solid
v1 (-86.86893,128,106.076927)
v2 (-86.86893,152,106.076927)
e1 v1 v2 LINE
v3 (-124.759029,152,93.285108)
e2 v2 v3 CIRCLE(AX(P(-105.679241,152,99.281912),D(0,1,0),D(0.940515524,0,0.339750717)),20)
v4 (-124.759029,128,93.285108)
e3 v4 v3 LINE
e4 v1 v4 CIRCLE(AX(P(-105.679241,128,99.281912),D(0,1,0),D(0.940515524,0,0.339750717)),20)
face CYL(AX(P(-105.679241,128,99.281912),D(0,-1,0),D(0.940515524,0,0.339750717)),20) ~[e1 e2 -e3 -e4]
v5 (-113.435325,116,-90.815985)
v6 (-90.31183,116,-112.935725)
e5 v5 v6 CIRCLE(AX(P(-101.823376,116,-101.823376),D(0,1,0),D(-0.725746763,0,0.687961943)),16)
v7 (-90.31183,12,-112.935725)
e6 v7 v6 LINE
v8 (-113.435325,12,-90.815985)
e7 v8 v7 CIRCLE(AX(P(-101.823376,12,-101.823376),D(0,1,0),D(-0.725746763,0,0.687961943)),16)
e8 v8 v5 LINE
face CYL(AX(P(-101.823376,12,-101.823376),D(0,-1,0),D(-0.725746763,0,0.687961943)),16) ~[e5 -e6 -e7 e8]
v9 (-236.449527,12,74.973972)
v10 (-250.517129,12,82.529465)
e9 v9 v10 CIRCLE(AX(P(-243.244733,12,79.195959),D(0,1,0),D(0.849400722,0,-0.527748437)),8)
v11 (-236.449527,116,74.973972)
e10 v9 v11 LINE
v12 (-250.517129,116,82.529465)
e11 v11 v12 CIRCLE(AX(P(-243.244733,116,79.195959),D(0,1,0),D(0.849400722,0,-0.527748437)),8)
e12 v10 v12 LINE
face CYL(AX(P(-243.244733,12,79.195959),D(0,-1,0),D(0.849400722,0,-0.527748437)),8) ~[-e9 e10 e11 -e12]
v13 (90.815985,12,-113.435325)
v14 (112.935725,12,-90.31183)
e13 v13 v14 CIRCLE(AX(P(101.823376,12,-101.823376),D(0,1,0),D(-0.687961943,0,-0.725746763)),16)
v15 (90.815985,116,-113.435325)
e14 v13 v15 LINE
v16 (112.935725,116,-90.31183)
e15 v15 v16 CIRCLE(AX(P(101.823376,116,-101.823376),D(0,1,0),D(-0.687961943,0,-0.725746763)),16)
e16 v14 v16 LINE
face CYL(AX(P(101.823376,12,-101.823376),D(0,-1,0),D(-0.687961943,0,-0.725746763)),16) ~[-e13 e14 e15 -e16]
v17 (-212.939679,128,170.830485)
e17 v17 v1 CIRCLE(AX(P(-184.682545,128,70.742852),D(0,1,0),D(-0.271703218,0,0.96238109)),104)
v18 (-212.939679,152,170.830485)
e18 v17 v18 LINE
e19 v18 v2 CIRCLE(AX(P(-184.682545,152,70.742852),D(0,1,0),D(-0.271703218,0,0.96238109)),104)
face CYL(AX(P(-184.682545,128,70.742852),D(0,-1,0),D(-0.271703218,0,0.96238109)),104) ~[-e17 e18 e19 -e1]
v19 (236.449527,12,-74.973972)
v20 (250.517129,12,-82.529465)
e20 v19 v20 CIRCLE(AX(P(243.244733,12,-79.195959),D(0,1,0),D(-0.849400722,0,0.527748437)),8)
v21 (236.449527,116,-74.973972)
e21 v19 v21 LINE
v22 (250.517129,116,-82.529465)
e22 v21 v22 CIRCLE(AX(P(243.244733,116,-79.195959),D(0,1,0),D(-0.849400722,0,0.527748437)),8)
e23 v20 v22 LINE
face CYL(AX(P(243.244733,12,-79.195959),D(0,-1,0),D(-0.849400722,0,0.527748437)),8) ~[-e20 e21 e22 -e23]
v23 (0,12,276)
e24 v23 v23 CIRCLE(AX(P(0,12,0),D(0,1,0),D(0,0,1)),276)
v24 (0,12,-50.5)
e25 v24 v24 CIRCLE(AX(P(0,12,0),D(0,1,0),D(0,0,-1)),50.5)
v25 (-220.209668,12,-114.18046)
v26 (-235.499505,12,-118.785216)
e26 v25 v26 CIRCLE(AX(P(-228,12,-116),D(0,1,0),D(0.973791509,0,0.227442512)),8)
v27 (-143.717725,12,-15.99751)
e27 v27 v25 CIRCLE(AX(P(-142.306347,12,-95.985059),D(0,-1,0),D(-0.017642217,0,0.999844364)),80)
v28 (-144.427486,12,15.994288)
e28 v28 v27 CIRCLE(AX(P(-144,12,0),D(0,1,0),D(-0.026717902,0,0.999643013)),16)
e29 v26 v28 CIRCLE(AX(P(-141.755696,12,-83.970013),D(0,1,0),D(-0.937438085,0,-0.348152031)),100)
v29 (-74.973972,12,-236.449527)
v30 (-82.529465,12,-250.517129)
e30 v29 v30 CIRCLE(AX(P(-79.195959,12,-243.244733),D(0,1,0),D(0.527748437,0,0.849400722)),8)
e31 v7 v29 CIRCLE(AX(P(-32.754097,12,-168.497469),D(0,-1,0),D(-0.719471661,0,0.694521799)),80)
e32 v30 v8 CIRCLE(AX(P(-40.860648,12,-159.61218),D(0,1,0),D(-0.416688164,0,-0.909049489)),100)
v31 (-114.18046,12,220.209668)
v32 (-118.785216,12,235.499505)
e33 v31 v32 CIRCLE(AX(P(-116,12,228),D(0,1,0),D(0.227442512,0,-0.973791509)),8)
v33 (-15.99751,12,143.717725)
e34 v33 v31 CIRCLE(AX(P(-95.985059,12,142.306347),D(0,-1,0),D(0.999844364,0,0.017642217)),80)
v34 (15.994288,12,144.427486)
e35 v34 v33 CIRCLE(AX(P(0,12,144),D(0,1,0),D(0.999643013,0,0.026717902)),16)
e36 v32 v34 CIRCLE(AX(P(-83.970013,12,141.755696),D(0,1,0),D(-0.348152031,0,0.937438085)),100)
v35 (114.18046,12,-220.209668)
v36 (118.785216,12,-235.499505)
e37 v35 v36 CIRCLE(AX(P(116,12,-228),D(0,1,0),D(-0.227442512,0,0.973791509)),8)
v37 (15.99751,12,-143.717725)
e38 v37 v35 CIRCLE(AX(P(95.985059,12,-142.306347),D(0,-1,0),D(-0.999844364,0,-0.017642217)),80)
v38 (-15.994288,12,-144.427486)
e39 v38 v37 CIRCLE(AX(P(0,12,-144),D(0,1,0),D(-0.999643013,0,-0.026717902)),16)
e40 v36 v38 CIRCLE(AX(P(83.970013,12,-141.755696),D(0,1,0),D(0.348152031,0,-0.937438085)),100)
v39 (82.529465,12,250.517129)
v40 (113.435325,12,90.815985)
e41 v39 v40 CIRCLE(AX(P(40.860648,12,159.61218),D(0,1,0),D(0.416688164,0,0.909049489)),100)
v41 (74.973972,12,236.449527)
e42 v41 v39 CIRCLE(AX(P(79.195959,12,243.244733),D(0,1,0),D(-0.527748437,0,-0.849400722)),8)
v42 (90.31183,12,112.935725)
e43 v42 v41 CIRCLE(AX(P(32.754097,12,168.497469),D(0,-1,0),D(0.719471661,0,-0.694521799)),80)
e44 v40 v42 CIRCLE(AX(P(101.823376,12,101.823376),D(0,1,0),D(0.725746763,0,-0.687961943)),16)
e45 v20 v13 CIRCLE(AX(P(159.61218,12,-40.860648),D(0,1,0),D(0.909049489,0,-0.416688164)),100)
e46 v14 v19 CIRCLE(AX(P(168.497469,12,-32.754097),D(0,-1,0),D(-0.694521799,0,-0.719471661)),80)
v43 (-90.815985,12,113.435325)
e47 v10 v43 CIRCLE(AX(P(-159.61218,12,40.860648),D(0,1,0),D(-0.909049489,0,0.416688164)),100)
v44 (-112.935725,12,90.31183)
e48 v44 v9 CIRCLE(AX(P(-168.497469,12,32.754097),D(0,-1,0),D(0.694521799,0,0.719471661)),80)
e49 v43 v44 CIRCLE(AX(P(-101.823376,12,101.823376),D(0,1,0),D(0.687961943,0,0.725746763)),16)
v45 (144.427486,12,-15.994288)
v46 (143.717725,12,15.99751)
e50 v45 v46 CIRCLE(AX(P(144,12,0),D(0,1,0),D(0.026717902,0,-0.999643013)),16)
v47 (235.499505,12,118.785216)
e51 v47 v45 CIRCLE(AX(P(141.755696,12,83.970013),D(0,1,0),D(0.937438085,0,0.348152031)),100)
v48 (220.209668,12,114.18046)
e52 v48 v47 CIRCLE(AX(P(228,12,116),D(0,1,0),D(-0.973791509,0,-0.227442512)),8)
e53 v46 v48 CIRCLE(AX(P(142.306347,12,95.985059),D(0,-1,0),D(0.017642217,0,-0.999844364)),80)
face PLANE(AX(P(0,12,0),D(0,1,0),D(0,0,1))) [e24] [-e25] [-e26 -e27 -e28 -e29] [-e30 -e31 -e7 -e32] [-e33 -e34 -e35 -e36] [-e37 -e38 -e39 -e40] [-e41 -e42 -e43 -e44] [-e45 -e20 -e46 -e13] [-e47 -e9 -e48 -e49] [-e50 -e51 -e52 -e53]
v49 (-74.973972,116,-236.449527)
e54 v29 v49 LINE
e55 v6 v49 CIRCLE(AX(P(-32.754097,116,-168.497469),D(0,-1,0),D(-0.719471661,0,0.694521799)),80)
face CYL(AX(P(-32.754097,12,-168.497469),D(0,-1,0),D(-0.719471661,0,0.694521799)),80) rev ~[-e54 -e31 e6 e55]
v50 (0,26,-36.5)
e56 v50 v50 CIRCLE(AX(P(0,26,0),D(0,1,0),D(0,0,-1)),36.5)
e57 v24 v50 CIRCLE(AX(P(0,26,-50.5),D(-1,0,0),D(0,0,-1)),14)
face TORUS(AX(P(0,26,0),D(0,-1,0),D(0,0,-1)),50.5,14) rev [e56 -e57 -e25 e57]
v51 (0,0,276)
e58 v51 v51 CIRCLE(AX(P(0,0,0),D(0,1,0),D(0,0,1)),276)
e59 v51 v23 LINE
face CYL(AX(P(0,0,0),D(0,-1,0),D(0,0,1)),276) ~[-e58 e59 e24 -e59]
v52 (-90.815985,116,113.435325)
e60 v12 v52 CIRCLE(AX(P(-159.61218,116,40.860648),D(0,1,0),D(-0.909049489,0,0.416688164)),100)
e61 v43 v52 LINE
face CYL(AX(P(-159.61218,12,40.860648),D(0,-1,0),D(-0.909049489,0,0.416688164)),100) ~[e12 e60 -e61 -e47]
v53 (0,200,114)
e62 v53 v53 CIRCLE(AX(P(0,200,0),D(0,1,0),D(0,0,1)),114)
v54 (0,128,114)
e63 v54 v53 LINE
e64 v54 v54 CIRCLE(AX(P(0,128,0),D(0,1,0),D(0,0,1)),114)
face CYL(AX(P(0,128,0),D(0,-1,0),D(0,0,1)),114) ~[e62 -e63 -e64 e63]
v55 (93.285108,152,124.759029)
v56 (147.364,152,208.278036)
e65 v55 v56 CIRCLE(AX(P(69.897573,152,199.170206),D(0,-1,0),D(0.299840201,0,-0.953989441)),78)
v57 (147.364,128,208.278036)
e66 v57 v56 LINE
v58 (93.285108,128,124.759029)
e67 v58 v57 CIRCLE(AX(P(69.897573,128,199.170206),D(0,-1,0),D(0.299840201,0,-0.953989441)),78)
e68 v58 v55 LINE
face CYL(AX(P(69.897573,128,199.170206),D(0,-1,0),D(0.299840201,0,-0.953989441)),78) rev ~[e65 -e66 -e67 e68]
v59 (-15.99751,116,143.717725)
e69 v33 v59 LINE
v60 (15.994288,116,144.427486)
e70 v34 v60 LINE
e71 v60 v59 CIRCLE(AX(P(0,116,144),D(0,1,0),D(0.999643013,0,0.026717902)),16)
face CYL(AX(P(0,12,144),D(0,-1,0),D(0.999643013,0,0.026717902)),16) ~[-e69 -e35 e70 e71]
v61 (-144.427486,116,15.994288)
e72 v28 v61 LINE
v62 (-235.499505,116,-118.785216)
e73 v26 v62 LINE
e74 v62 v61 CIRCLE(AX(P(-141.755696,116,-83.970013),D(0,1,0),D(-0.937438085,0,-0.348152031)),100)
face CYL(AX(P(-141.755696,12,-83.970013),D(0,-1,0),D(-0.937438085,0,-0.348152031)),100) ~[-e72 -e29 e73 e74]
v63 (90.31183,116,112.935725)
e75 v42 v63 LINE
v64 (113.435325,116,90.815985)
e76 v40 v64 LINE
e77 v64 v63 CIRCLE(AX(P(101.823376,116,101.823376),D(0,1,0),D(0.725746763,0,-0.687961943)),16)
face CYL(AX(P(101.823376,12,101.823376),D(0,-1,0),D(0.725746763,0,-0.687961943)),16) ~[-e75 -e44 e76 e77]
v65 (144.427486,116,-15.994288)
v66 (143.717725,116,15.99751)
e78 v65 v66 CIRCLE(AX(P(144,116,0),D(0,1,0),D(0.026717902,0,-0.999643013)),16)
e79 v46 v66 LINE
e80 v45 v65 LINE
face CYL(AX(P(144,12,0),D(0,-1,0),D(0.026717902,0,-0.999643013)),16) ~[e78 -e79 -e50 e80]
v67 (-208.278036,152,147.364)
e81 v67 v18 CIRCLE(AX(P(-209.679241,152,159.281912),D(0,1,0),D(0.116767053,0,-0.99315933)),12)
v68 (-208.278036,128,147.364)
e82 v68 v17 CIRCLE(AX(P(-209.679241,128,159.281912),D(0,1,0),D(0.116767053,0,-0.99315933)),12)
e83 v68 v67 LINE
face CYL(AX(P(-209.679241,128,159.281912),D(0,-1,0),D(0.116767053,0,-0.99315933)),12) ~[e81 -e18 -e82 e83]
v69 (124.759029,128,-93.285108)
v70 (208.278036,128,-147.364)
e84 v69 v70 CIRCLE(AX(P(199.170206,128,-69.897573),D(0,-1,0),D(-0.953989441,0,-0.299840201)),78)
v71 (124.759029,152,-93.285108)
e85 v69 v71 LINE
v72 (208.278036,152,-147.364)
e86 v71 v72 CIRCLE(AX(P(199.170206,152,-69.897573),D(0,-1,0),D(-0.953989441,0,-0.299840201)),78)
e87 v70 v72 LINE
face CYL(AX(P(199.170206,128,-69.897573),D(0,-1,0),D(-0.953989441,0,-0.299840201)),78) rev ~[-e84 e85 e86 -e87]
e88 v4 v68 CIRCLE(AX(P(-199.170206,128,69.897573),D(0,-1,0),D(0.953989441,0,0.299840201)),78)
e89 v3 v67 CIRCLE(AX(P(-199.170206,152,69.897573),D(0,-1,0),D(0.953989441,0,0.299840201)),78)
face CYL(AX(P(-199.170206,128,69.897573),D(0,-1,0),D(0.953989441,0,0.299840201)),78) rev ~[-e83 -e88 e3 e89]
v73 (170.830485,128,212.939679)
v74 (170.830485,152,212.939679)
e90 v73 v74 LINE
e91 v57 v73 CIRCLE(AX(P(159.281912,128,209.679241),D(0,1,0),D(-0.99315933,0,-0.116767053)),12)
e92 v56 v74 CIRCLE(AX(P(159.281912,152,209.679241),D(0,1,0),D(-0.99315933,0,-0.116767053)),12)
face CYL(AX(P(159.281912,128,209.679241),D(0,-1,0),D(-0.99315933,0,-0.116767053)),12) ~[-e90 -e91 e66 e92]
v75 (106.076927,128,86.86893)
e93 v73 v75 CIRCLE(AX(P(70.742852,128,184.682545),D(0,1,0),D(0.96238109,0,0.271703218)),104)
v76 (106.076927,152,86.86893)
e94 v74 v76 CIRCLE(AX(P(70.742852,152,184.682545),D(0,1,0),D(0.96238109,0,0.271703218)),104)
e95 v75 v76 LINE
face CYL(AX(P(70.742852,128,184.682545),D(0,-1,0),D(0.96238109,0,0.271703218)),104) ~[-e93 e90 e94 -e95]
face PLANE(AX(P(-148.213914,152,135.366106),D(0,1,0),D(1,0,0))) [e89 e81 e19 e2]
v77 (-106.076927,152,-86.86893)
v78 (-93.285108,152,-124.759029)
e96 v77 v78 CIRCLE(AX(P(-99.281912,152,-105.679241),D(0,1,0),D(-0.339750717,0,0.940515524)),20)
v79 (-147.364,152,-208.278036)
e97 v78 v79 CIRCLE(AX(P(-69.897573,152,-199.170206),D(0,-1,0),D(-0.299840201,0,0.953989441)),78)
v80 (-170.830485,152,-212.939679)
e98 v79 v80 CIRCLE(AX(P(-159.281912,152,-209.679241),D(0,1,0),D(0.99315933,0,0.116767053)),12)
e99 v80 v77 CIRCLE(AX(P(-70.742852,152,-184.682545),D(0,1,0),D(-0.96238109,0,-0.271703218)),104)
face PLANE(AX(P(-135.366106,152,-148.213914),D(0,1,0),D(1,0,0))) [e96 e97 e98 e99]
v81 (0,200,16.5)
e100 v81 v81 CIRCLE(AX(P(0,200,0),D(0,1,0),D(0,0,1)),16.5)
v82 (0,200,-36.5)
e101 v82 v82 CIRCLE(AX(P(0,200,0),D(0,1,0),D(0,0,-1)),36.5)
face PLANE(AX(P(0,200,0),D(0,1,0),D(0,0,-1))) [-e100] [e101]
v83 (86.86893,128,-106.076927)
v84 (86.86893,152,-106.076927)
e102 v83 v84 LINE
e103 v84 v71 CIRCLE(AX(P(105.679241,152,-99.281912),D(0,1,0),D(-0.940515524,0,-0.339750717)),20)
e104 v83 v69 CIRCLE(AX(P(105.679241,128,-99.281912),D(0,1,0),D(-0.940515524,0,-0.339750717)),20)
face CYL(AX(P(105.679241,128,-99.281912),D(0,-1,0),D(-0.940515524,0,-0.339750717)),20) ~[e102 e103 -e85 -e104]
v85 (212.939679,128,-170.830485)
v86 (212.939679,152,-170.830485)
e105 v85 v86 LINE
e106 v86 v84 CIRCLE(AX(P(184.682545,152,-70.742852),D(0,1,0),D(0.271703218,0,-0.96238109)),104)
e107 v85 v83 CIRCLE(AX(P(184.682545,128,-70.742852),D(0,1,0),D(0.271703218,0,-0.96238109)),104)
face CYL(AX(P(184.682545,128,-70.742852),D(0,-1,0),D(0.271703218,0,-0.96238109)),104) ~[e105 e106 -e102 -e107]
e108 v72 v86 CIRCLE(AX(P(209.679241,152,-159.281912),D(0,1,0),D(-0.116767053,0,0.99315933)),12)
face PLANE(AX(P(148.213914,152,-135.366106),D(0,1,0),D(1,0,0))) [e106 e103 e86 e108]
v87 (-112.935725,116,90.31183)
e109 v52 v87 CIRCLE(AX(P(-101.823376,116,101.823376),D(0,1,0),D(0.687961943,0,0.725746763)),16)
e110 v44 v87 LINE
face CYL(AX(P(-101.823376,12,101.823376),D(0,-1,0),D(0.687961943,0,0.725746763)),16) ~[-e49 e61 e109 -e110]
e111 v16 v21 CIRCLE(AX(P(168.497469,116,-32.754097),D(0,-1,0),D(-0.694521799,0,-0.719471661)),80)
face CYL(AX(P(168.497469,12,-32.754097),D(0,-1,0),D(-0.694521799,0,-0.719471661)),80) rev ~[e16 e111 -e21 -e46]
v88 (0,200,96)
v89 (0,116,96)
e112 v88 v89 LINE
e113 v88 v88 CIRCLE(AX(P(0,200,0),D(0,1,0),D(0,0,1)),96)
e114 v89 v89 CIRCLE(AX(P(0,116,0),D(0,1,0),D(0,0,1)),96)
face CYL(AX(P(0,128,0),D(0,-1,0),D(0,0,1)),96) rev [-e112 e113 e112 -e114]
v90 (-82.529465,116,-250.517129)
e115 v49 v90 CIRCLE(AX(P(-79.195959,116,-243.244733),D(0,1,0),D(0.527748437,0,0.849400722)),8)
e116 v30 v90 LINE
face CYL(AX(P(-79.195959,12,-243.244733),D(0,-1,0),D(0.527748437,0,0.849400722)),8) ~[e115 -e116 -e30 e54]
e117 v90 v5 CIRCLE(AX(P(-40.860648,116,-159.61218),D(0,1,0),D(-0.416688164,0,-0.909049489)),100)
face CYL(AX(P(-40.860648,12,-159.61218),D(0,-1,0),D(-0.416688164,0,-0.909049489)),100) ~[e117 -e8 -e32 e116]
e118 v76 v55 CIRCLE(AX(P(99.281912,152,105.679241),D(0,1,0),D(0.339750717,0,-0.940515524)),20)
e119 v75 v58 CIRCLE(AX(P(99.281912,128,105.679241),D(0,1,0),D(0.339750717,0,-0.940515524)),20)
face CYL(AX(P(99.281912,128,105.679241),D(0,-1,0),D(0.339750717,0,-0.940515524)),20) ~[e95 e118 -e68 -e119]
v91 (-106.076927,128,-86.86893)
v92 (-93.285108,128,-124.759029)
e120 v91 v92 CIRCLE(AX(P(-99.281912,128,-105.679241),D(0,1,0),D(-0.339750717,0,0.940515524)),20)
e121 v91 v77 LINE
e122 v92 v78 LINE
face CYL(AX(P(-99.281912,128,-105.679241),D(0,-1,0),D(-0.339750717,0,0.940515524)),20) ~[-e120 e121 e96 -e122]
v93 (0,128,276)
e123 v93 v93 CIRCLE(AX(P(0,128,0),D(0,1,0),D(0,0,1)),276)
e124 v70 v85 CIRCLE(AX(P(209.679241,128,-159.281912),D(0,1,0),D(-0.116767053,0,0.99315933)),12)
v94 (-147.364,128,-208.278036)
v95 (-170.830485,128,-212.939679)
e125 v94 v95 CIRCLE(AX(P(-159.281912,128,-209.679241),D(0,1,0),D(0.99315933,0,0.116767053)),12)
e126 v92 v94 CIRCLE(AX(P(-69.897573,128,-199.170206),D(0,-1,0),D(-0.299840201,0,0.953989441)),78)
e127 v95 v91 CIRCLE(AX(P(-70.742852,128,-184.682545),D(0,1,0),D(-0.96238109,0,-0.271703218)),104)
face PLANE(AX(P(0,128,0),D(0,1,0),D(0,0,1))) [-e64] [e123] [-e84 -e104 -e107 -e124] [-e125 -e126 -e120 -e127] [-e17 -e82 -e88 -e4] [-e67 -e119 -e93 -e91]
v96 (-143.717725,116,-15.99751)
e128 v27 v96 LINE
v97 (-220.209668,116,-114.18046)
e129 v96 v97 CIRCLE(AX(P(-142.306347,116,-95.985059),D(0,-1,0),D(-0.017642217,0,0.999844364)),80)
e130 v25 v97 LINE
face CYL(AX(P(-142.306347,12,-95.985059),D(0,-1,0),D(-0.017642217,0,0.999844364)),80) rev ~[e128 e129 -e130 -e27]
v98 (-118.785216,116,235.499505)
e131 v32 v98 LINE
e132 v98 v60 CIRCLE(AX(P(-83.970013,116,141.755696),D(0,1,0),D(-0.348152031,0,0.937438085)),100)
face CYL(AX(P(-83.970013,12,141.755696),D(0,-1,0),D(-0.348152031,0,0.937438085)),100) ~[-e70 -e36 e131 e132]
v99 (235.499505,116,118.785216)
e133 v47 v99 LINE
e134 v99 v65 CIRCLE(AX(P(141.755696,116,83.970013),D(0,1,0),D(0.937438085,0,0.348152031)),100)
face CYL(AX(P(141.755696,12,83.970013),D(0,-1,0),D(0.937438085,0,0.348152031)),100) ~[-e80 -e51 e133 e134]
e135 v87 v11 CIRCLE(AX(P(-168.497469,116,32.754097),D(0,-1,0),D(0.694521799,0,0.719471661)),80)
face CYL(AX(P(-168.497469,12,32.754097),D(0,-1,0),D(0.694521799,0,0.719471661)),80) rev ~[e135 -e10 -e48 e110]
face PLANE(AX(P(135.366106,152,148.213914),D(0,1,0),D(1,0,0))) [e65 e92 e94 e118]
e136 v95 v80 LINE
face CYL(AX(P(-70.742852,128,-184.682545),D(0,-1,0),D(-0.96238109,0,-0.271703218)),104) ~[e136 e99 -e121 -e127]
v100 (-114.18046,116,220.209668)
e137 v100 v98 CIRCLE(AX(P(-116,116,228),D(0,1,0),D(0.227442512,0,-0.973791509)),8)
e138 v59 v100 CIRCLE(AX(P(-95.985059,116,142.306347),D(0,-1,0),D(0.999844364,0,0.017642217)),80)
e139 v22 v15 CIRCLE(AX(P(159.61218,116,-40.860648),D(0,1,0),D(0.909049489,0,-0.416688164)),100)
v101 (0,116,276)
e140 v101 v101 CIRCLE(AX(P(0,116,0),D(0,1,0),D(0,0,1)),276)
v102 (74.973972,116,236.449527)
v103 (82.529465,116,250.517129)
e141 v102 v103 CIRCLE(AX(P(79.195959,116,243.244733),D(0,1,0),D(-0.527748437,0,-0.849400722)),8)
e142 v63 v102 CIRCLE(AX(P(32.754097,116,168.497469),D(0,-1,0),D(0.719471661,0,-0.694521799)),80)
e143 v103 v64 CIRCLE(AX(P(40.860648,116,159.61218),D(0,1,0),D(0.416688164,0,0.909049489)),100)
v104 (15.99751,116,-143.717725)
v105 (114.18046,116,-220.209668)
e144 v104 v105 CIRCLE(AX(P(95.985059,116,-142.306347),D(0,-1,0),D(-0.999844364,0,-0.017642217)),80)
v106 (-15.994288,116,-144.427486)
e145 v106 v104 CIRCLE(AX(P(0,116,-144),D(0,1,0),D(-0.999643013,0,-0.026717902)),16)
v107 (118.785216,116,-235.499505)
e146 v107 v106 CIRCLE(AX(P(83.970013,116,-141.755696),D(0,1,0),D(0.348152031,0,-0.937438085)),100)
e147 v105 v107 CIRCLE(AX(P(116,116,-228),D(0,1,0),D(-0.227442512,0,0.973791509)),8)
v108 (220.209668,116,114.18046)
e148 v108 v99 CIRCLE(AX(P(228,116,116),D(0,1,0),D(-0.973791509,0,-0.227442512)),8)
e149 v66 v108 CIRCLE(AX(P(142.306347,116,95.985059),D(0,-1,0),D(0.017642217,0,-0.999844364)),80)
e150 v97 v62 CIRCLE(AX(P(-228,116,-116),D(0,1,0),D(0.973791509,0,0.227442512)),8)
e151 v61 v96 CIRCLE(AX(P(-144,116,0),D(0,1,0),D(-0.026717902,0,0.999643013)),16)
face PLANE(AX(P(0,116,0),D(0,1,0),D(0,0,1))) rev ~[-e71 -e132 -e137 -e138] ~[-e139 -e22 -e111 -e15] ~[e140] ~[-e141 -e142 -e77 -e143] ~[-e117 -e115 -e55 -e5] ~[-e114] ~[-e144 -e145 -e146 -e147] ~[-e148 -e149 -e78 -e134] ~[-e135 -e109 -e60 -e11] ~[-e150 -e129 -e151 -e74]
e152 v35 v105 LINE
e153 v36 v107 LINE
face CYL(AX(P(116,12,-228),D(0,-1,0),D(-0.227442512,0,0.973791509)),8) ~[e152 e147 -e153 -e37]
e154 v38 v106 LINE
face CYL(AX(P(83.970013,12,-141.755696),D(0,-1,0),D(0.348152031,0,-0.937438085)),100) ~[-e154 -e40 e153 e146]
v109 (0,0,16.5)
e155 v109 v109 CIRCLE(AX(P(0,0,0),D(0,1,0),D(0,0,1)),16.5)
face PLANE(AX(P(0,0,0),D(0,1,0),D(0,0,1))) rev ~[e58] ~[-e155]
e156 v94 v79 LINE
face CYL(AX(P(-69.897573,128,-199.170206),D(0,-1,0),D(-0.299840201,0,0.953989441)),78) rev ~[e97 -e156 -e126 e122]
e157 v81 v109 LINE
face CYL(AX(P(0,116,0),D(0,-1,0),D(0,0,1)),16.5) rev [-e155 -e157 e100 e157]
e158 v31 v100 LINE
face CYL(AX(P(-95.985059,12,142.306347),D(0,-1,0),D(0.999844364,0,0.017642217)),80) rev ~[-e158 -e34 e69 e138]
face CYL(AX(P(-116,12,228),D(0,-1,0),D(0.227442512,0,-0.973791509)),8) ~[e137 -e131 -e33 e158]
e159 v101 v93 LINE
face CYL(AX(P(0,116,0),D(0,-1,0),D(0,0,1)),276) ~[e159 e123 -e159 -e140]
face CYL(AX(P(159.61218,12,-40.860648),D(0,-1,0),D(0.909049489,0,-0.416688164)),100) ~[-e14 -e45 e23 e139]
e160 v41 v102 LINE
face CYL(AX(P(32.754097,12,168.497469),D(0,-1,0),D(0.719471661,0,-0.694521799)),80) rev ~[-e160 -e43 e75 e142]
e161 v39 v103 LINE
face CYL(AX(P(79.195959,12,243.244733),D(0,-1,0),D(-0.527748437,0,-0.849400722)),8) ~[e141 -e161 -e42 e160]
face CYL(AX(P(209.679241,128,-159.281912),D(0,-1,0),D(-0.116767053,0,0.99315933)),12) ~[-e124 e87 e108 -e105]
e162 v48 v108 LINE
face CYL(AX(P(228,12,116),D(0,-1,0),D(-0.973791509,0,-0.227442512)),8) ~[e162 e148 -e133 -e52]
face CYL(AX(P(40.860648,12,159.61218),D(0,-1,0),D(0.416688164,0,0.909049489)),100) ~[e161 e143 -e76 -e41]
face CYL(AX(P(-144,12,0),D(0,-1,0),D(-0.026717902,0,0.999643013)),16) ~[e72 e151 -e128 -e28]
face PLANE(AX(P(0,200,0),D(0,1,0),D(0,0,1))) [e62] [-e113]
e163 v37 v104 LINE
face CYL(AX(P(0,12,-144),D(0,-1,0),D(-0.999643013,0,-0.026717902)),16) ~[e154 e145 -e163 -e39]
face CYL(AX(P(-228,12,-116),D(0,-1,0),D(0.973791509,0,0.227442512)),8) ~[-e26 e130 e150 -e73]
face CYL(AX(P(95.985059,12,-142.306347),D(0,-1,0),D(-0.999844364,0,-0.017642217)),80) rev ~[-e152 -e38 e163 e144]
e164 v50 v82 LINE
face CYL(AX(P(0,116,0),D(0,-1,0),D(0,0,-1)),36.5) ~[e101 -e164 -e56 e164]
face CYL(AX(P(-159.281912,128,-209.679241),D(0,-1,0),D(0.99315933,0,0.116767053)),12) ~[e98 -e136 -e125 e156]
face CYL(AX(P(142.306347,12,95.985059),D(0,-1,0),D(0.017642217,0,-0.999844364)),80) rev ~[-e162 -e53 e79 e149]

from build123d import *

# Parameters (mm, degrees)
SKETCH1_R           = 276
SKETCH1_R_2         = 16.5
BOSS_EXTRUDE1_DEPTH = 12
SKETCH2_R           = 36.5
SKETCH2_R_2         = 16.5
BOSS_EXTRUDE2_DEPTH = 104
SKETCH4_R           = 276
SKETCH4_R_2         = 96
BOSS_EXTRUDE6_DEPTH = 12
BOSS_EXTRUDE7_DEPTH = 24
SKETCH6_R           = 114
SKETCH6_R_2         = 96
BOSS_EXTRUDE8_DEPTH = 72
FILLET1_R           = 14
SKETCH7_R           = 36.5
SKETCH7_R_2         = 16.5
BOSS_EXTRUDE9_DEPTH = 84


with BuildPart() as part:
    # Sketch1 → Boss-Extrude1 (new body)
    with BuildSketch(Plane(origin=(0, 0, 0), x_dir=(1, 0, 0), z_dir=(0, 1, 0))):
        with Locations(Location((0, 0, 0), (0, 0, 270))):
            Circle(SKETCH1_R)
        with Locations(Location((0, 0, 0), (0, 0, 270))):
            Circle(SKETCH1_R_2, mode=Mode.SUBTRACT)
    extrude(amount=BOSS_EXTRUDE1_DEPTH)

    # Sketch2 → Boss-Extrude2 (add)
    # profile 1 of 9: a face of its own
    with BuildSketch(Plane(origin=(0, 12, 0), x_dir=(1, 0, 0), z_dir=(0, 1, 0))):
        with Locations(Location((0, 0, 0), (0, 0, 90))):
            Circle(SKETCH2_R)
        with Locations(Location((0, 0, 0), (0, 0, 270))):
            Circle(SKETCH2_R_2, mode=Mode.SUBTRACT)
    # profile 2 of 9: a face of its own
    with BuildSketch(Plane(origin=(0, 12, 0), x_dir=(1, 0, 0), z_dir=(0, 1, 0))):
        with BuildLine():
            ThreePointArc((15.99428821, -144.42748644), (0.354884611, -128.003936206), (-15.997509824, -143.717724529))
            ThreePointArc((-15.997509824, -143.717724529), (-46.818792615, -205.414811389), (-114.180459904, -220.209667925))
            ThreePointArc((-114.180459904, -220.209667925), (-123.660150756, -225.693034374), (-118.785216252, -235.499504679))
            ThreePointArc((-118.785216252, -235.499504679), (-27.982252168, -224.613228291), (15.99428821, -144.42748644))
        make_face()
    # profile 3 of 9: a face of its own
    with BuildSketch(Plane(origin=(0, 12, 0), x_dir=(1, 0, 0), z_dir=(0, 1, 0))):
        with BuildLine():
            ThreePointArc((-90.815985398, -113.435324705), (-90.261509995, -90.763392625), (-112.93572527, -90.311829913))
            ThreePointArc((-112.93572527, -90.311829913), (-178.356091834, -112.144320345), (-236.44952695, -74.973971996))
            ThreePointArc((-236.44952695, -74.973971996), (-247.030006234, -72.14814391), (-250.517128641, -82.529464808))
            ThreePointArc((-250.517128641, -82.529464808), (-178.61197713, -139.039096608), (-90.815985398, -113.435324705))
        make_face()
    # profile 4 of 9: a face of its own
    with BuildSketch(Plane(origin=(0, 12, 0), x_dir=(1, 0, 0), z_dir=(0, 1, 0))):
        with BuildLine():
            ThreePointArc((-144.42748644, -15.99428821), (-128.003936206, -0.354884611), (-143.717724529, 15.997509824))
            ThreePointArc((-143.717724529, 15.997509824), (-205.414811389, 46.818792615), (-220.209667925, 114.180459904))
            ThreePointArc((-220.209667925, 114.180459904), (-225.693034374, 123.660150756), (-235.499504679, 118.785216252))
            ThreePointArc((-235.499504679, 118.785216252), (-224.613228291, 27.982252168), (-144.42748644, -15.99428821))
        make_face()
    # profile 5 of 9: a face of its own
    with BuildSketch(Plane(origin=(0, 12, 0), x_dir=(1, 0, 0), z_dir=(0, 1, 0))):
        with BuildLine():
            ThreePointArc((-113.435324705, 90.815985398), (-90.763392625, 90.261509995), (-90.311829913, 112.93572527))
            ThreePointArc((-90.311829913, 112.93572527), (-112.144320345, 178.356091834), (-74.973971996, 236.44952695))
            ThreePointArc((-74.973971996, 236.44952695), (-72.14814391, 247.030006234), (-82.529464808, 250.517128641))
            ThreePointArc((-82.529464808, 250.517128641), (-139.039096608, 178.61197713), (-113.435324705, 90.815985398))
        make_face()
    # profile 6 of 9: a face of its own
    with BuildSketch(Plane(origin=(0, 12, 0), x_dir=(1, 0, 0), z_dir=(0, 1, 0))):
        with BuildLine():
            ThreePointArc((-15.99428821, 144.42748644), (-0.354884611, 128.003936206), (15.997509824, 143.717724529))
            ThreePointArc((15.997509824, 143.717724529), (46.818792615, 205.414811389), (114.180459904, 220.209667925))
            ThreePointArc((114.180459904, 220.209667925), (123.660150756, 225.693034374), (118.785216252, 235.499504679))
            ThreePointArc((118.785216252, 235.499504679), (27.982252168, 224.613228291), (-15.99428821, 144.42748644))
        make_face()
    # profile 7 of 9: a face of its own
    with BuildSketch(Plane(origin=(0, 12, 0), x_dir=(1, 0, 0), z_dir=(0, 1, 0))):
        with BuildLine():
            ThreePointArc((90.815985398, 113.435324705), (90.261509995, 90.763392625), (112.93572527, 90.311829913))
            ThreePointArc((112.93572527, 90.311829913), (178.356091834, 112.144320345), (236.44952695, 74.973971996))
            ThreePointArc((236.44952695, 74.973971996), (247.030006234, 72.14814391), (250.517128641, 82.529464808))
            ThreePointArc((250.517128641, 82.529464808), (178.61197713, 139.039096608), (90.815985398, 113.435324705))
        make_face()
    # profile 8 of 9: a face of its own
    with BuildSketch(Plane(origin=(0, 12, 0), x_dir=(1, 0, 0), z_dir=(0, 1, 0))):
        with BuildLine():
            ThreePointArc((144.42748644, 15.99428821), (128.003936206, 0.354884611), (143.717724529, -15.997509824))
            ThreePointArc((143.717724529, -15.997509824), (205.414811389, -46.818792615), (220.209667925, -114.180459904))
            ThreePointArc((220.209667925, -114.180459904), (225.693034374, -123.660150756), (235.499504679, -118.785216252))
            ThreePointArc((235.499504679, -118.785216252), (224.613228291, -27.982252168), (144.42748644, 15.99428821))
        make_face()
    # profile 9 of 9: a face of its own
    with BuildSketch(Plane(origin=(0, 12, 0), x_dir=(1, 0, 0), z_dir=(0, 1, 0))):
        with BuildLine():
            ThreePointArc((113.435324705, -90.815985398), (90.763392625, -90.261509995), (90.311829913, -112.93572527))
            ThreePointArc((90.311829913, -112.93572527), (112.144320345, -178.356091834), (74.973971996, -236.44952695))
            ThreePointArc((74.973971996, -236.44952695), (72.14814391, -247.030006234), (82.529464808, -250.517128641))
            ThreePointArc((82.529464808, -250.517128641), (139.039096608, -178.61197713), (113.435324705, -90.815985398))
        make_face()
    extrude(amount=BOSS_EXTRUDE2_DEPTH)

    # Sketch4 → Boss-Extrude6 (add)
    with BuildSketch(Plane(origin=(0, 116, 0), x_dir=(1, 0, 0), z_dir=(0, 1, 0))):
        with Locations(Location((0, 0, 0), (0, 0, 270))):
            Circle(SKETCH4_R)
        with Locations(Location((0, 0, 0), (0, 0, 270))):
            Circle(SKETCH4_R_2, mode=Mode.SUBTRACT)
    extrude(amount=BOSS_EXTRUDE6_DEPTH)

    # Sketch5 → Boss-Extrude7 (add)
    with BuildSketch(Plane(origin=(0, 128, 0), x_dir=(1, 0, 0), z_dir=(0, 1, 0))):
        with BuildLine():
            ThreePointArc((170.830485383, -212.939679185), (163.2534903, -137.16642294), (106.076926652, -86.868930102))
            ThreePointArc((106.076926652, -86.868930102), (80.332659261, -99.281912309), (93.285108283, -124.759029396))
            ThreePointArc((93.285108283, -124.759029396), (135.370747242, -156.776062336), (147.364000345, -208.278035938))
            ThreePointArc((147.364000345, -208.278035938), (156.943786511, -221.449251949), (170.830485383, -212.939679185))
        make_face()
        with BuildLine():
            ThreePointArc((-212.939679185, -170.830485383), (-137.16642294, -163.2534903), (-86.868930102, -106.076926652))
            ThreePointArc((-86.868930102, -106.076926652), (-99.281912309, -80.332659261), (-124.759029396, -93.285108283))
            ThreePointArc((-124.759029396, -93.285108283), (-156.776062336, -135.370747242), (-208.278035938, -147.364000345))
            ThreePointArc((-208.278035938, -147.364000345), (-221.449251949, -156.943786511), (-212.939679185, -170.830485383))
        make_face()
        with BuildLine():
            ThreePointArc((-170.830485383, 212.939679185), (-163.2534903, 137.16642294), (-106.076926652, 86.868930102))
            ThreePointArc((-106.076926652, 86.868930102), (-80.332659261, 99.281912309), (-93.285108283, 124.759029396))
            ThreePointArc((-93.285108283, 124.759029396), (-135.370747242, 156.776062336), (-147.364000345, 208.278035938))
            ThreePointArc((-147.364000345, 208.278035938), (-156.943786511, 221.449251949), (-170.830485383, 212.939679185))
        make_face()
        with BuildLine():
            ThreePointArc((212.939679185, 170.830485383), (137.16642294, 163.2534903), (86.868930102, 106.076926652))
            ThreePointArc((86.868930102, 106.076926652), (99.281912309, 80.332659261), (124.759029396, 93.285108283))
            ThreePointArc((124.759029396, 93.285108283), (156.776062336, 135.370747242), (208.278035938, 147.364000345))
            ThreePointArc((208.278035938, 147.364000345), (221.449251949, 156.943786511), (212.939679185, 170.830485383))
        make_face()
    extrude(amount=BOSS_EXTRUDE7_DEPTH)

    # Sketch6 → Boss-Extrude8 (add)
    with BuildSketch(Plane(origin=(0, 128, 0), x_dir=(1, 0, 0), z_dir=(0, 1, 0))):
        with Locations(Location((0, 0, 0), (0, 0, 270))):
            Circle(SKETCH6_R)
        with Locations(Location((0, 0, 0), (0, 0, 270))):
            Circle(SKETCH6_R_2, mode=Mode.SUBTRACT)
    extrude(amount=BOSS_EXTRUDE8_DEPTH)

    # Fillet1
    fillet1_edges = [part.edges().sort_by_distance(p)[0] for p in [
        (0, 12, 36.5),
    ]]
    fillet(fillet1_edges, radius=FILLET1_R)

    # Sketch7 → Boss-Extrude9 (add)
    with BuildSketch(Plane(origin=(0, 116, 0), x_dir=(1, 0, 0), z_dir=(0, 1, 0))):
        with Locations(Location((0, 0, 0), (0, 0, 90))):
            Circle(SKETCH7_R)
        with Locations(Location((0, 0, 0), (0, 0, 270))):
            Circle(SKETCH7_R_2, mode=Mode.SUBTRACT)
    extrude(amount=BOSS_EXTRUDE9_DEPTH)


solid = part.part
